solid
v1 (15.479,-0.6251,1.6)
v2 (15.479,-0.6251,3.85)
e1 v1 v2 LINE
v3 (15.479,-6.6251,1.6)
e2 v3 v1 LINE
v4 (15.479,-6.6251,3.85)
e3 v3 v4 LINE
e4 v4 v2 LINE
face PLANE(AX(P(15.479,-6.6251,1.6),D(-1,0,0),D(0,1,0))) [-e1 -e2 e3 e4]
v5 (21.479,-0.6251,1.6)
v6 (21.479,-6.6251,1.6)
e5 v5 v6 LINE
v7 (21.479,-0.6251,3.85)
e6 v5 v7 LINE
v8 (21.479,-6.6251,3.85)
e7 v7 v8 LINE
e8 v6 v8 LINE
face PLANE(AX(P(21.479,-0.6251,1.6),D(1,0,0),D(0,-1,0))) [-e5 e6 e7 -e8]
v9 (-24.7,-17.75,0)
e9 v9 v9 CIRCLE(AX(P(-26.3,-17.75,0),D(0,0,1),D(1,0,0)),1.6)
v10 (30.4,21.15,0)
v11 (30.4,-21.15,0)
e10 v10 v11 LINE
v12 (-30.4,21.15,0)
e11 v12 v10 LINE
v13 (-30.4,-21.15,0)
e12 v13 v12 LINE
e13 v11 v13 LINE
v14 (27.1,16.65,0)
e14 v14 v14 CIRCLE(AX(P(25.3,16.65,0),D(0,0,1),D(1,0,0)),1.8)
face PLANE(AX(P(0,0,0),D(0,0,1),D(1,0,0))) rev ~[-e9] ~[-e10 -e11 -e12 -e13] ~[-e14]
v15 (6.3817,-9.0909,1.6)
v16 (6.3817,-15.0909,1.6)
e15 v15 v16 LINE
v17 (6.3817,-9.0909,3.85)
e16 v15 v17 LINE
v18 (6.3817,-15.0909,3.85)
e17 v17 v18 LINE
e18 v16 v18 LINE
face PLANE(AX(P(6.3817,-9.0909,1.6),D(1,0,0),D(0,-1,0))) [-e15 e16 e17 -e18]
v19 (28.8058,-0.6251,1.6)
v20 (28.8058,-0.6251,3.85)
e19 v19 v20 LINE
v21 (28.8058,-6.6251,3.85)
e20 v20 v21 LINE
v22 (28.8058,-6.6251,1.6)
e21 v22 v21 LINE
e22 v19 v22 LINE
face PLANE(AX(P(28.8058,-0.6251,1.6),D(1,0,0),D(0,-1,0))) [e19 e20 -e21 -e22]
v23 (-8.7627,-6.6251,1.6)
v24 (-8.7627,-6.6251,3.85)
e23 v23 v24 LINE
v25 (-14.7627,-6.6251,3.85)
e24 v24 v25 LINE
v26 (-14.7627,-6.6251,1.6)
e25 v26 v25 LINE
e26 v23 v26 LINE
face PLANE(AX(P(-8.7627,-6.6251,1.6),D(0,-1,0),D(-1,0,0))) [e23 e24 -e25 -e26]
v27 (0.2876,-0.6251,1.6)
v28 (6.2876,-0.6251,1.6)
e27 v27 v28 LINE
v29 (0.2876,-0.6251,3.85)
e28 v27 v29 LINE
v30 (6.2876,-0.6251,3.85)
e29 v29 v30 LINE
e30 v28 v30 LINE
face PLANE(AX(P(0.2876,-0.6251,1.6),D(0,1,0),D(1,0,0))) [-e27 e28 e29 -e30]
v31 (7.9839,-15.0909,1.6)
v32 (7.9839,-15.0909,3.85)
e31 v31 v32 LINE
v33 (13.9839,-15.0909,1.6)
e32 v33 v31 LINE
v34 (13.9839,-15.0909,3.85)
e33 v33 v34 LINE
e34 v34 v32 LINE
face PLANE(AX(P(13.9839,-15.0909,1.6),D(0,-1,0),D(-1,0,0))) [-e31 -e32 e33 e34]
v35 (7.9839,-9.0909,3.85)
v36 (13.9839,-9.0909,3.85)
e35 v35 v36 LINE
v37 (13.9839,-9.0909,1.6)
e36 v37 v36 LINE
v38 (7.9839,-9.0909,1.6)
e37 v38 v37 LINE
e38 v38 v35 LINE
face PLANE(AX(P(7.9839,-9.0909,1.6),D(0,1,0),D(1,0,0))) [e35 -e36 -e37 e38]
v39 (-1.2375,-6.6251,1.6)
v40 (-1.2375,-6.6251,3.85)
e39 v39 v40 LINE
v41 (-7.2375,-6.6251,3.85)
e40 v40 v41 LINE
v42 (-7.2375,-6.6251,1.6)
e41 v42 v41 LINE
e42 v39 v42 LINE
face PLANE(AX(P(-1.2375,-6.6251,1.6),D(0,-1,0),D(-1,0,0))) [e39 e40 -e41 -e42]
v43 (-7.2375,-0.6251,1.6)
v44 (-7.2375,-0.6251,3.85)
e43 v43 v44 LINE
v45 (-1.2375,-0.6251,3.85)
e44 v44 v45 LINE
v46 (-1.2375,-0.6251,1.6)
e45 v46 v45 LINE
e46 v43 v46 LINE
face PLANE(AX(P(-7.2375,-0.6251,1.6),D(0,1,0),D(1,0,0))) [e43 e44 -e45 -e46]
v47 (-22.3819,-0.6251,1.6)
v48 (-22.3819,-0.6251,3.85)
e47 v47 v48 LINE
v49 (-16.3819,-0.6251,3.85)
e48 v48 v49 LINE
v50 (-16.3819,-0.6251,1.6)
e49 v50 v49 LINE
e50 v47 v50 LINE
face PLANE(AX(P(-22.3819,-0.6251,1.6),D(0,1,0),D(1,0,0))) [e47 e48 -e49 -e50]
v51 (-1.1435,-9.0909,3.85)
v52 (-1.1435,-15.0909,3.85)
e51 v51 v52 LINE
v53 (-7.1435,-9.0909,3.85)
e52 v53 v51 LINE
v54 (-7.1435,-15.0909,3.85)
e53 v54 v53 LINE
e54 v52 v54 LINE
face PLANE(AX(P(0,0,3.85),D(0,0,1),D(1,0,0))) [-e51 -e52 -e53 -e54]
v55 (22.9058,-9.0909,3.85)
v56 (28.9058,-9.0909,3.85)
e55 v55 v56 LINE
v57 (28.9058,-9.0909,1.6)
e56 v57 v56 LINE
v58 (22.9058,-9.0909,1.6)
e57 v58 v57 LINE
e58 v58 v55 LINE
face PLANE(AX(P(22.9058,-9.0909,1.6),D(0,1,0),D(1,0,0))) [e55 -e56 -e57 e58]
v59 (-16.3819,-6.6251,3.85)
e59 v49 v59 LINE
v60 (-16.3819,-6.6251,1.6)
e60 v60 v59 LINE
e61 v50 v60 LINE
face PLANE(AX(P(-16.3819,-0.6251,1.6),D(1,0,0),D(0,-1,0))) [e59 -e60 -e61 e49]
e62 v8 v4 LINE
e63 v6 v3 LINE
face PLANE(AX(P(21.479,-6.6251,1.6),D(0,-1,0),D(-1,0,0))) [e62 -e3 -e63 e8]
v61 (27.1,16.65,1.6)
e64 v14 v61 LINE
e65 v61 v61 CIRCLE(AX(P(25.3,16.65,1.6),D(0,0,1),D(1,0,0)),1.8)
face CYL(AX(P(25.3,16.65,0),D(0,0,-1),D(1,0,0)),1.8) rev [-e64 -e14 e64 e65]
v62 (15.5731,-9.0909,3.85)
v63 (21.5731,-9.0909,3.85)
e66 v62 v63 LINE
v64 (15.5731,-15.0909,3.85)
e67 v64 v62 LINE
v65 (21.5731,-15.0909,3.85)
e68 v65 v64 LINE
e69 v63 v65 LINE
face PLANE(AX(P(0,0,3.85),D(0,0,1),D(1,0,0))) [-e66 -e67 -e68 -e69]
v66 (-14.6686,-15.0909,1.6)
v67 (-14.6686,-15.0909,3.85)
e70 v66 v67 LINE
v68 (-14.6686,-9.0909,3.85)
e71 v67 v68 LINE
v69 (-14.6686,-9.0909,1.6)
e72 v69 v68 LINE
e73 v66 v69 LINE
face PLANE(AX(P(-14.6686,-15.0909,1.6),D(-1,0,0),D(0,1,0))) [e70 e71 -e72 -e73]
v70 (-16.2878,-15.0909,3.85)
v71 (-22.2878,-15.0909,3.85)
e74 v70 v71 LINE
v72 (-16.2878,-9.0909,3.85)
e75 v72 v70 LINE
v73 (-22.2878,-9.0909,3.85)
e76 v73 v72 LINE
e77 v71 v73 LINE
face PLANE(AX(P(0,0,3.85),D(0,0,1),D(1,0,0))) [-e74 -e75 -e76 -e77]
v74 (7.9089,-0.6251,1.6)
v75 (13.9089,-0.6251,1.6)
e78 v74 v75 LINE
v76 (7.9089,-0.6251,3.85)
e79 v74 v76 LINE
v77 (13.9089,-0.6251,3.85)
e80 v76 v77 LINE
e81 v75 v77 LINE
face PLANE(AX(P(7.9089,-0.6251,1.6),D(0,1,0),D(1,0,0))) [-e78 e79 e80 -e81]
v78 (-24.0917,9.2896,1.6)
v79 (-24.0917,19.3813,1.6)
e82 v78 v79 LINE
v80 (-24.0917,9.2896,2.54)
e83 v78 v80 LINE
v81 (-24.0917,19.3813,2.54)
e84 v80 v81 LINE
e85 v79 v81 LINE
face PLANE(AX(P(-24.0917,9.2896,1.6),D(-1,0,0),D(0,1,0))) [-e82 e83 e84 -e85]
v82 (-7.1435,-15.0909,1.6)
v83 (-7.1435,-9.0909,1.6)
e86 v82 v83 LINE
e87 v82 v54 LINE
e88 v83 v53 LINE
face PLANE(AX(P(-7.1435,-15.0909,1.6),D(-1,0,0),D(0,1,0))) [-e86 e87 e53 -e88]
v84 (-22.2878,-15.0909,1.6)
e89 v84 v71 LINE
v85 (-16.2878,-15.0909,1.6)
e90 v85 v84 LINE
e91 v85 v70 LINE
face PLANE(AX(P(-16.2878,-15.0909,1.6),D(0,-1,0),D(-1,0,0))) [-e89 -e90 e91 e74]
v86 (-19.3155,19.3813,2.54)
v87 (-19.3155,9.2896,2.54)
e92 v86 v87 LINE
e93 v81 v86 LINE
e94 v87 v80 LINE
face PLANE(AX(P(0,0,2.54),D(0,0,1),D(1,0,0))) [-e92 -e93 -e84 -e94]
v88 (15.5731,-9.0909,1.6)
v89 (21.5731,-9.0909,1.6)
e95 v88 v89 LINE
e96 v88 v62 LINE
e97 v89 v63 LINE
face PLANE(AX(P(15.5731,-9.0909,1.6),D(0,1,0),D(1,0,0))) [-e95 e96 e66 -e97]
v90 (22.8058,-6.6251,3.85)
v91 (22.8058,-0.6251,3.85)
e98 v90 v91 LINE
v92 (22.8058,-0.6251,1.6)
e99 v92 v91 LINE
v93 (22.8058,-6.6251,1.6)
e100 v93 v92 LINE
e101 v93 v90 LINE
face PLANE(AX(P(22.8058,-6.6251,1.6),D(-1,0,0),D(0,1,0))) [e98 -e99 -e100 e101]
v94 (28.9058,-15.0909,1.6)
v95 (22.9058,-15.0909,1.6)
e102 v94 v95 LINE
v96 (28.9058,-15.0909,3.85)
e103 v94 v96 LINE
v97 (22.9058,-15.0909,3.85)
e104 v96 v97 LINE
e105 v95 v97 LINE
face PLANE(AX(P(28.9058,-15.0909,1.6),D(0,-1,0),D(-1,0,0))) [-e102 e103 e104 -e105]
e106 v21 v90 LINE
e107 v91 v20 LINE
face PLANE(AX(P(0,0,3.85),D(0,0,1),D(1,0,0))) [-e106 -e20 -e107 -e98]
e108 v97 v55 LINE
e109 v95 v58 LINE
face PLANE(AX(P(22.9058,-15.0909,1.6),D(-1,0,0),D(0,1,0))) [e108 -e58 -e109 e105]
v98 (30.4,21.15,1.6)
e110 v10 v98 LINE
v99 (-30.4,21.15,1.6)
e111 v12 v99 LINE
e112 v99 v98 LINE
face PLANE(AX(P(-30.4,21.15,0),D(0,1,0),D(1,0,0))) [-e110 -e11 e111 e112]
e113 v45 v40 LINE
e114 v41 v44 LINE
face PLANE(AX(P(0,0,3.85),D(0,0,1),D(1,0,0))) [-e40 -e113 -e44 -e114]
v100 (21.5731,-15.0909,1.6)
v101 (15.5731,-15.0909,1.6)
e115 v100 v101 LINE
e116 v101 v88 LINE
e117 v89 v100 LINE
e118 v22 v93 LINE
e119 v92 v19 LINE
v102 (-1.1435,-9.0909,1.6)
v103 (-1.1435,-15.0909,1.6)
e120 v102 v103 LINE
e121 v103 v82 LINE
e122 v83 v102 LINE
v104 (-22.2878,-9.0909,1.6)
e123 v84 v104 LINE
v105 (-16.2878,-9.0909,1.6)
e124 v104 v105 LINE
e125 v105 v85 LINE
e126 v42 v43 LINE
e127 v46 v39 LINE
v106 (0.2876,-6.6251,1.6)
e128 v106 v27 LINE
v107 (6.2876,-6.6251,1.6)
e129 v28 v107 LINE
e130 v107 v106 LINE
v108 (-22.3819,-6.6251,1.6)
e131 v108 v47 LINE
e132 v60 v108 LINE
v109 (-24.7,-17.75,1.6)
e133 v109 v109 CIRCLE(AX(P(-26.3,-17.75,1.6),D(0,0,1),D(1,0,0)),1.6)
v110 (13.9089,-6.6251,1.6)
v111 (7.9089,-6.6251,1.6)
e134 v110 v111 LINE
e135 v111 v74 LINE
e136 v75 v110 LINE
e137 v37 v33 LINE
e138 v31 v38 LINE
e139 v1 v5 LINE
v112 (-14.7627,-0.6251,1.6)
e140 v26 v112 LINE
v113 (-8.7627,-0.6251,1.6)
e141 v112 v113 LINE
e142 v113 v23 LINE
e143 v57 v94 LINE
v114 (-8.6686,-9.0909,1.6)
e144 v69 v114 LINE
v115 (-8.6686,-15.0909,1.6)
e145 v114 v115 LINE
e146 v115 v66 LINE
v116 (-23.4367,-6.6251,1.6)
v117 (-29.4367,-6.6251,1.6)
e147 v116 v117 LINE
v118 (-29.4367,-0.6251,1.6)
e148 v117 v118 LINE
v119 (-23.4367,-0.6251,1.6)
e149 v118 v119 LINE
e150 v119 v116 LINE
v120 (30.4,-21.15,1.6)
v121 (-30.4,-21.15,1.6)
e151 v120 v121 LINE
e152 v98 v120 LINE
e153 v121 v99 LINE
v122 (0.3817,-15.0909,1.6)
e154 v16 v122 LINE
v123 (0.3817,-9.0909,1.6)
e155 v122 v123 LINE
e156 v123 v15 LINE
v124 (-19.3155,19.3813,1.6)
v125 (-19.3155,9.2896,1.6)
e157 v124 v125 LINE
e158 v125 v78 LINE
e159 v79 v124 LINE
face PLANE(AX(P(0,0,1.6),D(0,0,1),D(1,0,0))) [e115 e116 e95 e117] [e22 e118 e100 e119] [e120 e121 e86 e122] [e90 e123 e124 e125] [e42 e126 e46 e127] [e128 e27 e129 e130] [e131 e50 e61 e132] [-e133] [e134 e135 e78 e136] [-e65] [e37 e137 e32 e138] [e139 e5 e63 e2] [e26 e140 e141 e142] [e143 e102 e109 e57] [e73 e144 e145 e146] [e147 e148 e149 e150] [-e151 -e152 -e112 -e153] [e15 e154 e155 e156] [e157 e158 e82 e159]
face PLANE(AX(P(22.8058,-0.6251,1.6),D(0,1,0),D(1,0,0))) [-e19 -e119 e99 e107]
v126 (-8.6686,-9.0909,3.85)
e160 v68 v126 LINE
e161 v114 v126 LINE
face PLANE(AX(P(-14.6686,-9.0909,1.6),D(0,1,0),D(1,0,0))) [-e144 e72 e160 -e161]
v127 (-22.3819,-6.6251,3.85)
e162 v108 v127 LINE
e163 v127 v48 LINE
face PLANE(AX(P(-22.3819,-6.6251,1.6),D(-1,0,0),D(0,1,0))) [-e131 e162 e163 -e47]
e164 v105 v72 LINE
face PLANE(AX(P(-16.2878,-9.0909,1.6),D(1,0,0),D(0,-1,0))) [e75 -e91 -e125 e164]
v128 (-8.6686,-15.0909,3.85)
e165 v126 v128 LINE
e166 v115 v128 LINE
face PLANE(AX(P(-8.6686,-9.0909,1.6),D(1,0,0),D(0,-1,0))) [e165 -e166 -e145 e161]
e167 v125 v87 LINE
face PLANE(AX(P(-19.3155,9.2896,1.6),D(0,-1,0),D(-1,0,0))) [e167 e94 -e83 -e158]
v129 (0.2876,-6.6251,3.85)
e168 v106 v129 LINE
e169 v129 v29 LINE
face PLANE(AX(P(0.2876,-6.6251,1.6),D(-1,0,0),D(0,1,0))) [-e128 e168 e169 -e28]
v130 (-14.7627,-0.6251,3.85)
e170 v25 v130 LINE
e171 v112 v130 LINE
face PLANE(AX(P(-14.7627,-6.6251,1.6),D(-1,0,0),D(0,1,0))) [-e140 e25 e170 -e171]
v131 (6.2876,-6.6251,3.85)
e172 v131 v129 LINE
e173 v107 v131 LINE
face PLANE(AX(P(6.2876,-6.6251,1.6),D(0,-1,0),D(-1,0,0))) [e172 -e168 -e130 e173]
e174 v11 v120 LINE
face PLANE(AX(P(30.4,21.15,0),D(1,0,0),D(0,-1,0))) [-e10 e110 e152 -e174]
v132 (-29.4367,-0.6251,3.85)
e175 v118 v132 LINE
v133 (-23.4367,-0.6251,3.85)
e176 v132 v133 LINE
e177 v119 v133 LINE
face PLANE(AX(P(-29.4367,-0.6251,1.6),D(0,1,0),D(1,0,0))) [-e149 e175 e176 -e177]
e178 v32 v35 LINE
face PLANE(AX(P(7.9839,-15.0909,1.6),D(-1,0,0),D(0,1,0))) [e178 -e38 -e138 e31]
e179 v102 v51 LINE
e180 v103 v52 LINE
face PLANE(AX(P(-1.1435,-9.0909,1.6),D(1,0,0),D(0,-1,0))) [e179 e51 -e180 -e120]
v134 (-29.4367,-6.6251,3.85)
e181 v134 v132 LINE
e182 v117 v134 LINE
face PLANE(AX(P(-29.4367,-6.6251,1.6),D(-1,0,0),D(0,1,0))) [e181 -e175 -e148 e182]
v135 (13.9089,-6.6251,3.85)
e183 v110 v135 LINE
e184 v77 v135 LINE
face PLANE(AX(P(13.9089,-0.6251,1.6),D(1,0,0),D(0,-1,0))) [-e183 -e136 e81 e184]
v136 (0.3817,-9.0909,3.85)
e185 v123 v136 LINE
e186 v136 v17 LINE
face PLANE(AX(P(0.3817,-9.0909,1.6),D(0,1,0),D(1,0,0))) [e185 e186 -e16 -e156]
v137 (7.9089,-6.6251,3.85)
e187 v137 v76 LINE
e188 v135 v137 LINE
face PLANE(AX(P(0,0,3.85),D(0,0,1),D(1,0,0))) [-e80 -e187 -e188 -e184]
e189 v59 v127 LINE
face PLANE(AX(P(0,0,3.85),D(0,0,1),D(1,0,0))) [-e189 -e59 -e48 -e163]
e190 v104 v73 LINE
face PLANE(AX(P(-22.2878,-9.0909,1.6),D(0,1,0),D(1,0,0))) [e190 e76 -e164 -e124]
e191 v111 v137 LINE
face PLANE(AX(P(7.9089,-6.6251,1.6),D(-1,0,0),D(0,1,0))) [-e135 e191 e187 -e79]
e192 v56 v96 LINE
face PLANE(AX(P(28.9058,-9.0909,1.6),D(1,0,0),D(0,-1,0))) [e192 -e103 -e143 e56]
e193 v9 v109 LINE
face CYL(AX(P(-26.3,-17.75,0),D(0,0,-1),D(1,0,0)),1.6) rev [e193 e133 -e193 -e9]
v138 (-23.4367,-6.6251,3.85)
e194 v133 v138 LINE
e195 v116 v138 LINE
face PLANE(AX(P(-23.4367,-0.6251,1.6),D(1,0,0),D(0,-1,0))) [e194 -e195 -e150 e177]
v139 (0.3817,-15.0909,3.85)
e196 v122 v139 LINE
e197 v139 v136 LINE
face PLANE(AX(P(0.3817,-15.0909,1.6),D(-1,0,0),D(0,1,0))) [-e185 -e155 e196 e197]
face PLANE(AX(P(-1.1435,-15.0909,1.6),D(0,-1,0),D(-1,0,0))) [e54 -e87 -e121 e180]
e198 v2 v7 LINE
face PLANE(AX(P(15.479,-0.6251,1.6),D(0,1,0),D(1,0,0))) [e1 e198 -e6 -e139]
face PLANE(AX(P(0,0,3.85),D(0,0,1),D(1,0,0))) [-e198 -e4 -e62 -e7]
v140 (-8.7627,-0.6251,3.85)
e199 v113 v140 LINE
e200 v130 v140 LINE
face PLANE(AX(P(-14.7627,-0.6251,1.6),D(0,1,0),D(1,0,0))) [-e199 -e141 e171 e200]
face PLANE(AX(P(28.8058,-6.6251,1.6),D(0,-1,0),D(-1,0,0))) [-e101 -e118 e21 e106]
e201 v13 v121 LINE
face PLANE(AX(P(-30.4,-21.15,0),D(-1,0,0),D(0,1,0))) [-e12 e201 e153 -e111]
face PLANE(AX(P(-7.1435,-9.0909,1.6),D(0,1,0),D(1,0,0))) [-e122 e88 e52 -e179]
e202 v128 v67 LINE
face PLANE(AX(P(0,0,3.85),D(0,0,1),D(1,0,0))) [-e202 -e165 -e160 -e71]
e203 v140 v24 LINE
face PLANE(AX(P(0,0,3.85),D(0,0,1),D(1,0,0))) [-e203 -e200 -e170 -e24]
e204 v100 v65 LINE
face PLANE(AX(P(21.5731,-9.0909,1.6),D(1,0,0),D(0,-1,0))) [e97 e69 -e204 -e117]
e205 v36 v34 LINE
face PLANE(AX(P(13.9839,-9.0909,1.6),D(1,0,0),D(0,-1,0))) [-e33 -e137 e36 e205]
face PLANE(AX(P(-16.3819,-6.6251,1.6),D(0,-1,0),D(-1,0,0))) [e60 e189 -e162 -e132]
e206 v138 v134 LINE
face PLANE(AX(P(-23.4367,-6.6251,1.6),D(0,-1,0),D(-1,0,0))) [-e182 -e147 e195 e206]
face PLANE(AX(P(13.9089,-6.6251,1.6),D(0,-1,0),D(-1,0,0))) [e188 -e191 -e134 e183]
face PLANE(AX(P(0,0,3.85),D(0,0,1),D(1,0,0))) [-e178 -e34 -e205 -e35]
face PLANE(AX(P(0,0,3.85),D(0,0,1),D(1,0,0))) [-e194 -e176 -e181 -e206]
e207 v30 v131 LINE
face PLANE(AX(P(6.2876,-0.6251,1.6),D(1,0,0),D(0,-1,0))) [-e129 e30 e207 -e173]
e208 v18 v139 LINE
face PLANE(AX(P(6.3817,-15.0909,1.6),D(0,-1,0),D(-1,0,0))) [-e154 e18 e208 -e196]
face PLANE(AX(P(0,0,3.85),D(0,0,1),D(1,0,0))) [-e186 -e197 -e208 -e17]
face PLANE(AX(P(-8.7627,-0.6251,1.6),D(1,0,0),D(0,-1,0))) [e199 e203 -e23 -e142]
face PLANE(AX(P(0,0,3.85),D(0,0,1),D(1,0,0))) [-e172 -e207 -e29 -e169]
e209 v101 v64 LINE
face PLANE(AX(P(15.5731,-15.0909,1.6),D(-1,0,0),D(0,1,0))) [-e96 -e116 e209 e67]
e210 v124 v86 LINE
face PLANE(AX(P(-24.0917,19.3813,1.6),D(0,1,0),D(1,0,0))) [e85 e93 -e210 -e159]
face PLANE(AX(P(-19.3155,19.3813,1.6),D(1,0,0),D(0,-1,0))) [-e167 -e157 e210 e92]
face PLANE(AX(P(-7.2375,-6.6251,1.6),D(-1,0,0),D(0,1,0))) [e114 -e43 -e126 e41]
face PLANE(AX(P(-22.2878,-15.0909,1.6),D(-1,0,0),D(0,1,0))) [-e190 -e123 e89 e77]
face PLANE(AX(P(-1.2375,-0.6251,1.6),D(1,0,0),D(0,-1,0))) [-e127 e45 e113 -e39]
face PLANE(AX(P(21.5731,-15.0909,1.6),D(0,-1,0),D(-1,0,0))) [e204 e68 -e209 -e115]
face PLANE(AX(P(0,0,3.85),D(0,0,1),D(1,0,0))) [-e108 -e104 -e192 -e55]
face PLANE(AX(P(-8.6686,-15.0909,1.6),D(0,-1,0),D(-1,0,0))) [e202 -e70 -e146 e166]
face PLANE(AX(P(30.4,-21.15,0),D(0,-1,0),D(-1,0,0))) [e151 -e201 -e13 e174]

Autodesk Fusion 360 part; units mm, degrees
sketch "Sketch1" plane through (0, 0, 0) normal (0, 0, 1) x (1, 0, 0) in component "5S100ABMS"
  line L0 (-30.4, 21.15) -> (30.4, 21.15)
  line L1 (30.4, 21.15) -> (30.4, -21.15)
  line L2 (30.4, -21.15) -> (-30.4, -21.15)
  line L3 (-30.4, -21.15) -> (-30.4, 21.15)
  line L4 (-30.4, 21.15) -> (30.4, -21.15) construction
  line L5 (30.4, 21.15) -> (-30.4, -21.15) construction
  line L6 (30.4, 21.15) -> (27.1, 21.15) construction
  line L7 (27.1, 21.15) -> (27.1, 18.45) construction
  line L8 (27.1, 18.45) -> (30.4, 18.45) construction
  line L9 (30.4, 18.45) -> (30.4, 21.15) construction
  line L10 (-30.4, -19.35) -> (-27.9, -19.35) construction
  line L11 (-27.9, -19.35) -> (-27.9, -21.15) construction
  line L12 (-27.9, -21.15) -> (-30.4, -21.15) construction
  line L13 (-30.4, -21.15) -> (-30.4, -19.35) construction
  circle A0 centre (25.3, 16.65) radius 1.8
  circle A1 centre (-26.3, -17.75) radius 1.6
  line L14 (25.3, 16.65) -> (27.1, 16.65) construction
  line L15 (27.1, 16.65) -> (27.1, 18.45) construction
  line L16 (27.1, 18.45) -> (25.3, 18.45) construction
  line L17 (25.3, 18.45) -> (25.3, 16.65) construction
  line L18 (-26.3, -17.75) -> (-27.9, -17.75) construction
  line L19 (-27.9, -17.75) -> (-27.9, -19.35) construction
  line L20 (-27.9, -19.35) -> (-26.3, -19.35) construction
  line L21 (-26.3, -19.35) -> (-26.3, -17.75) construction
  dimension "Length" = 60.8
  dimension "Width" = 42.3
  dimension "d3" = 3.3
  dimension "d4" = 2.7
  dimension "d5" = 2.5
  dimension "d6" = 1.8
  dimension "d7" = 3.6
  dimension "d8" = 3.2
extrude "Extrude1" add sketch "Sketch1" along normal blind 1.6 in component "5S100ABMS"
sketch "Sketch2" plane through (0, 0, 1.6) normal (0, 0, 1) x (1, 0, 0) in component "5S100ABMS"
  circle A0 centre (-26.3, -17.75) radius 1.6
  circle A1 centre (25.3, 16.65) radius 1.8
  line L0 (-30.4, -21.15) -> (30.4, -21.15)
  line L1 (30.4, -21.15) -> (30.4, 21.15)
  line L2 (30.4, 21.15) -> (-30.4, 21.15)
  line L3 (-30.4, 21.15) -> (-30.4, -21.15)
  line L4 (-29.4367, -6.6251) -> (-29.4367, -0.6251)
  line L5 (-23.4367, -0.6251) -> (-23.4367, -6.6251)
  line L6 (-29.4367, -0.6251) -> (-23.4367, -0.6251)
  line L7 (-29.4367, -6.6251) -> (-23.4367, -0.6251) construction
  line L8 (-23.4367, -6.6251) -> (-29.4367, -6.6251)
  line L9 (-23.4367, -6.6251) -> (-29.4367, -0.6251) construction
  line L10 (-22.2878, -15.0909) -> (-22.2878, -9.0909)
  line L11 (-16.2878, -9.0909) -> (-16.2878, -15.0909)
  line L12 (-22.2878, -9.0909) -> (-16.2878, -9.0909)
  line L13 (-22.2878, -15.0909) -> (-16.2878, -9.0909) construction
  line L14 (-16.2878, -15.0909) -> (-22.2878, -15.0909)
  line L15 (-16.2878, -15.0909) -> (-22.2878, -9.0909) construction
  line L16 (-14.6686, -15.0909) -> (-14.6686, -9.0909)
  line L17 (-8.6686, -9.0909) -> (-8.6686, -15.0909)
  line L18 (-14.6686, -9.0909) -> (-8.6686, -9.0909)
  line L19 (-14.6686, -15.0909) -> (-8.6686, -9.0909) construction
  line L20 (-8.6686, -15.0909) -> (-14.6686, -15.0909)
  line L21 (-8.6686, -15.0909) -> (-14.6686, -9.0909) construction
  line L22 (-7.1435, -15.0909) -> (-7.1435, -9.0909)
  line L23 (-1.1435, -9.0909) -> (-1.1435, -15.0909)
  line L24 (-7.1435, -9.0909) -> (-1.1435, -9.0909)
  line L25 (-7.1435, -15.0909) -> (-1.1435, -9.0909) construction
  line L26 (-1.1435, -15.0909) -> (-7.1435, -15.0909)
  line L27 (-1.1435, -15.0909) -> (-7.1435, -9.0909) construction
  line L28 (0.3817, -15.0909) -> (0.3817, -9.0909)
  line L29 (6.3817, -9.0909) -> (6.3817, -15.0909)
  line L30 (0.3817, -9.0909) -> (6.3817, -9.0909)
  line L31 (0.3817, -15.0909) -> (6.3817, -9.0909) construction
  line L32 (6.3817, -15.0909) -> (0.3817, -15.0909)
  line L33 (6.3817, -15.0909) -> (0.3817, -9.0909) construction
  line L34 (7.9839, -15.0909) -> (7.9839, -9.0909)
  line L35 (13.9839, -9.0909) -> (13.9839, -15.0909)
  line L36 (7.9839, -9.0909) -> (13.9839, -9.0909)
  line L37 (7.9839, -15.0909) -> (13.9839, -9.0909) construction
  line L38 (13.9839, -15.0909) -> (7.9839, -15.0909)
  line L39 (13.9839, -15.0909) -> (7.9839, -9.0909) construction
  line L40 (15.5731, -15.0909) -> (15.5731, -9.0909)
  line L41 (21.5731, -9.0909) -> (21.5731, -15.0909)
  line L42 (15.5731, -9.0909) -> (21.5731, -9.0909)
  line L43 (15.5731, -15.0909) -> (21.5731, -9.0909) construction
  line L44 (21.5731, -15.0909) -> (15.5731, -15.0909)
  line L45 (21.5731, -15.0909) -> (15.5731, -9.0909) construction
  line L46 (22.9058, -15.0909) -> (22.9058, -9.0909)
  line L47 (28.9058, -9.0909) -> (28.9058, -15.0909)
  line L48 (22.9058, -9.0909) -> (28.9058, -9.0909)
  line L49 (22.9058, -15.0909) -> (28.9058, -9.0909) construction
  line L50 (28.9058, -15.0909) -> (22.9058, -15.0909)
  line L51 (28.9058, -15.0909) -> (22.9058, -9.0909) construction
  line L52 (-16.3819, -6.6251) -> (-22.3819, -6.6251)
  line L53 (-1.2375, -6.6251) -> (-7.2375, -0.6251) construction
  line L54 (0.2876, -6.6251) -> (0.2876, -0.6251)
  line L55 (-1.2375, -0.6251) -> (-1.2375, -6.6251)
  line L56 (7.9089, -6.6251) -> (7.9089, -0.6251)
  line L57 (13.9089, -6.6251) -> (7.9089, -0.6251) construction
  line L58 (-22.3819, -6.6251) -> (-16.3819, -0.6251) construction
  line L59 (-16.3819, -6.6251) -> (-22.3819, -0.6251) construction
  line L60 (28.8058, -6.6251) -> (22.8058, -6.6251)
  line L61 (6.2876, -0.6251) -> (6.2876, -6.6251)
  line L62 (-14.7627, -6.6251) -> (-14.7627, -0.6251)
  line L63 (15.479, -6.6251) -> (21.479, -0.6251) construction
  line L64 (-1.2375, -6.6251) -> (-7.2375, -6.6251)
  line L65 (-14.7627, -6.6251) -> (-8.7627, -0.6251) construction
  line L66 (22.8058, -6.6251) -> (22.8058, -0.6251)
  line L67 (-7.2375, -6.6251) -> (-7.2375, -0.6251)
  line L68 (7.9089, -0.6251) -> (13.9089, -0.6251)
  line L69 (22.8058, -6.6251) -> (28.8058, -0.6251) construction
  line L70 (21.479, -6.6251) -> (15.479, -0.6251) construction
  line L71 (28.8058, -0.6251) -> (28.8058, -6.6251)
  line L72 (0.2876, -0.6251) -> (6.2876, -0.6251)
  line L73 (-22.3819, -0.6251) -> (-16.3819, -0.6251)
  line L74 (13.9089, -0.6251) -> (13.9089, -6.6251)
  line L75 (-8.7627, -0.6251) -> (-8.7627, -6.6251)
  line L76 (-16.3819, -0.6251) -> (-16.3819, -6.6251)
  line L77 (22.8058, -0.6251) -> (28.8058, -0.6251)
  line L78 (21.479, -0.6251) -> (21.479, -6.6251)
  line L79 (15.479, -0.6251) -> (21.479, -0.6251)
  line L80 (-7.2375, -6.6251) -> (-1.2375, -0.6251) construction
  line L81 (-8.7627, -6.6251) -> (-14.7627, -6.6251)
  line L82 (28.8058, -6.6251) -> (22.8058, -0.6251) construction
  line L83 (-14.7627, -0.6251) -> (-8.7627, -0.6251)
  line L84 (-22.3819, -6.6251) -> (-22.3819, -0.6251)
  line L85 (7.9089, -6.6251) -> (13.9089, -0.6251) construction
  line L86 (0.2876, -6.6251) -> (6.2876, -0.6251) construction
  line L87 (-7.2375, -0.6251) -> (-1.2375, -0.6251)
  line L88 (13.9089, -6.6251) -> (7.9089, -6.6251)
  line L89 (-8.7627, -6.6251) -> (-14.7627, -0.6251) construction
  line L90 (21.479, -6.6251) -> (15.479, -6.6251)
  line L91 (6.2876, -6.6251) -> (0.2876, -6.6251)
  line L92 (6.2876, -6.6251) -> (0.2876, -0.6251) construction
  line L93 (15.479, -6.6251) -> (15.479, -0.6251)
  line L94 (-24.0917, 19.3813) -> (-19.3155, 19.3813)
  line L95 (-19.3155, 19.3813) -> (-19.3155, 9.2896)
  line L96 (-19.3155, 9.2896) -> (-24.0917, 9.2896)
  line L97 (-24.0917, 9.2896) -> (-24.0917, 19.3813)
  point P0 (-26.4367, -3.6251)
  point P1 (-19.3819, -3.6251)
  point P2 (-19.2878, -12.0909)
  point P3 (-11.6686, -12.0909)
  point P4 (-4.1435, -12.0909)
  point P5 (3.3817, -12.0909)
  point P6 (10.9839, -12.0909)
  point P7 (18.5731, -12.0909)
  point P8 (25.9058, -12.0909)
  point P9 (-19.3819, -3.6251)
  point P10 (10.9089, -3.6251)
  point P11 (-11.7627, -3.6251)
  point P12 (18.479, -3.6251)
  point P13 (3.2876, -3.6251)
  point P14 (-4.2375, -3.6251)
  point P15 (25.8058, -3.6251)
  dimension "d13" = 6
  dimension "d14" = 6
  dimension "d17" = 6
  dimension "d18" = 6
  dimension "d19" = 6
  dimension "d20" = 6
  dimension "d21" = 6
  dimension "d22" = 6
  dimension "d23" = 6
  dimension "d24" = 6
  dimension "d25" = 6
  dimension "d26" = 6
  dimension "d27" = 6
  dimension "d28" = 6
  dimension "d29" = 6
  dimension "d30" = 6
  dimension "d31" = 6
  dimension "d32" = 6
  dimension "d33" = 6
  dimension "d34" = 6
  dimension "d35" = 6
  dimension "d36" = 6
  dimension "d37" = 6
  dimension "d38" = 6
  dimension "d39" = 6
  dimension "d40" = 6
  dimension "d41" = 6
  dimension "d42" = 6
  dimension "d43" = 6
  dimension "d44" = 6
  dimension "d45" = 4.7762
extrude "Extrude2" add sketch "Sketch2" along normal blind 0.94 contours L94 L95 L96 L97 in component "5S100ABMS"
extrude "Extrude3" add sketch "Sketch2" along normal blind 2.25 contours L4 L5 L6 L8 | L10 L11 L12 L14 | L16 L17 L18 L20 | L22 L23 L24 L26 | L28 L29 L30 L32 | L34 L35 L36 L38 | L40 L41 L42 L44 | L46 L47 L48 L50 | L52 L73 L76 L84 | L54 L61 L72 L91 | L55 L64 L67 L87 | L56 L68 L74 L88 | L60 L66 L71 L77 | L62 L75 L81 L83 | L78 L79 L90 L93 in component "5S100ABMS"
component "5S100ABMS" placed x (1, 0, 0) y (0, 1, 0) z (0, 0, 1) at (0, 0, 0)
equation "Thickness = 1.6 mm"
equation "d46 = 2.54 mm - Thickness"
equation "d48 = 3.85 mm - Thickness"
